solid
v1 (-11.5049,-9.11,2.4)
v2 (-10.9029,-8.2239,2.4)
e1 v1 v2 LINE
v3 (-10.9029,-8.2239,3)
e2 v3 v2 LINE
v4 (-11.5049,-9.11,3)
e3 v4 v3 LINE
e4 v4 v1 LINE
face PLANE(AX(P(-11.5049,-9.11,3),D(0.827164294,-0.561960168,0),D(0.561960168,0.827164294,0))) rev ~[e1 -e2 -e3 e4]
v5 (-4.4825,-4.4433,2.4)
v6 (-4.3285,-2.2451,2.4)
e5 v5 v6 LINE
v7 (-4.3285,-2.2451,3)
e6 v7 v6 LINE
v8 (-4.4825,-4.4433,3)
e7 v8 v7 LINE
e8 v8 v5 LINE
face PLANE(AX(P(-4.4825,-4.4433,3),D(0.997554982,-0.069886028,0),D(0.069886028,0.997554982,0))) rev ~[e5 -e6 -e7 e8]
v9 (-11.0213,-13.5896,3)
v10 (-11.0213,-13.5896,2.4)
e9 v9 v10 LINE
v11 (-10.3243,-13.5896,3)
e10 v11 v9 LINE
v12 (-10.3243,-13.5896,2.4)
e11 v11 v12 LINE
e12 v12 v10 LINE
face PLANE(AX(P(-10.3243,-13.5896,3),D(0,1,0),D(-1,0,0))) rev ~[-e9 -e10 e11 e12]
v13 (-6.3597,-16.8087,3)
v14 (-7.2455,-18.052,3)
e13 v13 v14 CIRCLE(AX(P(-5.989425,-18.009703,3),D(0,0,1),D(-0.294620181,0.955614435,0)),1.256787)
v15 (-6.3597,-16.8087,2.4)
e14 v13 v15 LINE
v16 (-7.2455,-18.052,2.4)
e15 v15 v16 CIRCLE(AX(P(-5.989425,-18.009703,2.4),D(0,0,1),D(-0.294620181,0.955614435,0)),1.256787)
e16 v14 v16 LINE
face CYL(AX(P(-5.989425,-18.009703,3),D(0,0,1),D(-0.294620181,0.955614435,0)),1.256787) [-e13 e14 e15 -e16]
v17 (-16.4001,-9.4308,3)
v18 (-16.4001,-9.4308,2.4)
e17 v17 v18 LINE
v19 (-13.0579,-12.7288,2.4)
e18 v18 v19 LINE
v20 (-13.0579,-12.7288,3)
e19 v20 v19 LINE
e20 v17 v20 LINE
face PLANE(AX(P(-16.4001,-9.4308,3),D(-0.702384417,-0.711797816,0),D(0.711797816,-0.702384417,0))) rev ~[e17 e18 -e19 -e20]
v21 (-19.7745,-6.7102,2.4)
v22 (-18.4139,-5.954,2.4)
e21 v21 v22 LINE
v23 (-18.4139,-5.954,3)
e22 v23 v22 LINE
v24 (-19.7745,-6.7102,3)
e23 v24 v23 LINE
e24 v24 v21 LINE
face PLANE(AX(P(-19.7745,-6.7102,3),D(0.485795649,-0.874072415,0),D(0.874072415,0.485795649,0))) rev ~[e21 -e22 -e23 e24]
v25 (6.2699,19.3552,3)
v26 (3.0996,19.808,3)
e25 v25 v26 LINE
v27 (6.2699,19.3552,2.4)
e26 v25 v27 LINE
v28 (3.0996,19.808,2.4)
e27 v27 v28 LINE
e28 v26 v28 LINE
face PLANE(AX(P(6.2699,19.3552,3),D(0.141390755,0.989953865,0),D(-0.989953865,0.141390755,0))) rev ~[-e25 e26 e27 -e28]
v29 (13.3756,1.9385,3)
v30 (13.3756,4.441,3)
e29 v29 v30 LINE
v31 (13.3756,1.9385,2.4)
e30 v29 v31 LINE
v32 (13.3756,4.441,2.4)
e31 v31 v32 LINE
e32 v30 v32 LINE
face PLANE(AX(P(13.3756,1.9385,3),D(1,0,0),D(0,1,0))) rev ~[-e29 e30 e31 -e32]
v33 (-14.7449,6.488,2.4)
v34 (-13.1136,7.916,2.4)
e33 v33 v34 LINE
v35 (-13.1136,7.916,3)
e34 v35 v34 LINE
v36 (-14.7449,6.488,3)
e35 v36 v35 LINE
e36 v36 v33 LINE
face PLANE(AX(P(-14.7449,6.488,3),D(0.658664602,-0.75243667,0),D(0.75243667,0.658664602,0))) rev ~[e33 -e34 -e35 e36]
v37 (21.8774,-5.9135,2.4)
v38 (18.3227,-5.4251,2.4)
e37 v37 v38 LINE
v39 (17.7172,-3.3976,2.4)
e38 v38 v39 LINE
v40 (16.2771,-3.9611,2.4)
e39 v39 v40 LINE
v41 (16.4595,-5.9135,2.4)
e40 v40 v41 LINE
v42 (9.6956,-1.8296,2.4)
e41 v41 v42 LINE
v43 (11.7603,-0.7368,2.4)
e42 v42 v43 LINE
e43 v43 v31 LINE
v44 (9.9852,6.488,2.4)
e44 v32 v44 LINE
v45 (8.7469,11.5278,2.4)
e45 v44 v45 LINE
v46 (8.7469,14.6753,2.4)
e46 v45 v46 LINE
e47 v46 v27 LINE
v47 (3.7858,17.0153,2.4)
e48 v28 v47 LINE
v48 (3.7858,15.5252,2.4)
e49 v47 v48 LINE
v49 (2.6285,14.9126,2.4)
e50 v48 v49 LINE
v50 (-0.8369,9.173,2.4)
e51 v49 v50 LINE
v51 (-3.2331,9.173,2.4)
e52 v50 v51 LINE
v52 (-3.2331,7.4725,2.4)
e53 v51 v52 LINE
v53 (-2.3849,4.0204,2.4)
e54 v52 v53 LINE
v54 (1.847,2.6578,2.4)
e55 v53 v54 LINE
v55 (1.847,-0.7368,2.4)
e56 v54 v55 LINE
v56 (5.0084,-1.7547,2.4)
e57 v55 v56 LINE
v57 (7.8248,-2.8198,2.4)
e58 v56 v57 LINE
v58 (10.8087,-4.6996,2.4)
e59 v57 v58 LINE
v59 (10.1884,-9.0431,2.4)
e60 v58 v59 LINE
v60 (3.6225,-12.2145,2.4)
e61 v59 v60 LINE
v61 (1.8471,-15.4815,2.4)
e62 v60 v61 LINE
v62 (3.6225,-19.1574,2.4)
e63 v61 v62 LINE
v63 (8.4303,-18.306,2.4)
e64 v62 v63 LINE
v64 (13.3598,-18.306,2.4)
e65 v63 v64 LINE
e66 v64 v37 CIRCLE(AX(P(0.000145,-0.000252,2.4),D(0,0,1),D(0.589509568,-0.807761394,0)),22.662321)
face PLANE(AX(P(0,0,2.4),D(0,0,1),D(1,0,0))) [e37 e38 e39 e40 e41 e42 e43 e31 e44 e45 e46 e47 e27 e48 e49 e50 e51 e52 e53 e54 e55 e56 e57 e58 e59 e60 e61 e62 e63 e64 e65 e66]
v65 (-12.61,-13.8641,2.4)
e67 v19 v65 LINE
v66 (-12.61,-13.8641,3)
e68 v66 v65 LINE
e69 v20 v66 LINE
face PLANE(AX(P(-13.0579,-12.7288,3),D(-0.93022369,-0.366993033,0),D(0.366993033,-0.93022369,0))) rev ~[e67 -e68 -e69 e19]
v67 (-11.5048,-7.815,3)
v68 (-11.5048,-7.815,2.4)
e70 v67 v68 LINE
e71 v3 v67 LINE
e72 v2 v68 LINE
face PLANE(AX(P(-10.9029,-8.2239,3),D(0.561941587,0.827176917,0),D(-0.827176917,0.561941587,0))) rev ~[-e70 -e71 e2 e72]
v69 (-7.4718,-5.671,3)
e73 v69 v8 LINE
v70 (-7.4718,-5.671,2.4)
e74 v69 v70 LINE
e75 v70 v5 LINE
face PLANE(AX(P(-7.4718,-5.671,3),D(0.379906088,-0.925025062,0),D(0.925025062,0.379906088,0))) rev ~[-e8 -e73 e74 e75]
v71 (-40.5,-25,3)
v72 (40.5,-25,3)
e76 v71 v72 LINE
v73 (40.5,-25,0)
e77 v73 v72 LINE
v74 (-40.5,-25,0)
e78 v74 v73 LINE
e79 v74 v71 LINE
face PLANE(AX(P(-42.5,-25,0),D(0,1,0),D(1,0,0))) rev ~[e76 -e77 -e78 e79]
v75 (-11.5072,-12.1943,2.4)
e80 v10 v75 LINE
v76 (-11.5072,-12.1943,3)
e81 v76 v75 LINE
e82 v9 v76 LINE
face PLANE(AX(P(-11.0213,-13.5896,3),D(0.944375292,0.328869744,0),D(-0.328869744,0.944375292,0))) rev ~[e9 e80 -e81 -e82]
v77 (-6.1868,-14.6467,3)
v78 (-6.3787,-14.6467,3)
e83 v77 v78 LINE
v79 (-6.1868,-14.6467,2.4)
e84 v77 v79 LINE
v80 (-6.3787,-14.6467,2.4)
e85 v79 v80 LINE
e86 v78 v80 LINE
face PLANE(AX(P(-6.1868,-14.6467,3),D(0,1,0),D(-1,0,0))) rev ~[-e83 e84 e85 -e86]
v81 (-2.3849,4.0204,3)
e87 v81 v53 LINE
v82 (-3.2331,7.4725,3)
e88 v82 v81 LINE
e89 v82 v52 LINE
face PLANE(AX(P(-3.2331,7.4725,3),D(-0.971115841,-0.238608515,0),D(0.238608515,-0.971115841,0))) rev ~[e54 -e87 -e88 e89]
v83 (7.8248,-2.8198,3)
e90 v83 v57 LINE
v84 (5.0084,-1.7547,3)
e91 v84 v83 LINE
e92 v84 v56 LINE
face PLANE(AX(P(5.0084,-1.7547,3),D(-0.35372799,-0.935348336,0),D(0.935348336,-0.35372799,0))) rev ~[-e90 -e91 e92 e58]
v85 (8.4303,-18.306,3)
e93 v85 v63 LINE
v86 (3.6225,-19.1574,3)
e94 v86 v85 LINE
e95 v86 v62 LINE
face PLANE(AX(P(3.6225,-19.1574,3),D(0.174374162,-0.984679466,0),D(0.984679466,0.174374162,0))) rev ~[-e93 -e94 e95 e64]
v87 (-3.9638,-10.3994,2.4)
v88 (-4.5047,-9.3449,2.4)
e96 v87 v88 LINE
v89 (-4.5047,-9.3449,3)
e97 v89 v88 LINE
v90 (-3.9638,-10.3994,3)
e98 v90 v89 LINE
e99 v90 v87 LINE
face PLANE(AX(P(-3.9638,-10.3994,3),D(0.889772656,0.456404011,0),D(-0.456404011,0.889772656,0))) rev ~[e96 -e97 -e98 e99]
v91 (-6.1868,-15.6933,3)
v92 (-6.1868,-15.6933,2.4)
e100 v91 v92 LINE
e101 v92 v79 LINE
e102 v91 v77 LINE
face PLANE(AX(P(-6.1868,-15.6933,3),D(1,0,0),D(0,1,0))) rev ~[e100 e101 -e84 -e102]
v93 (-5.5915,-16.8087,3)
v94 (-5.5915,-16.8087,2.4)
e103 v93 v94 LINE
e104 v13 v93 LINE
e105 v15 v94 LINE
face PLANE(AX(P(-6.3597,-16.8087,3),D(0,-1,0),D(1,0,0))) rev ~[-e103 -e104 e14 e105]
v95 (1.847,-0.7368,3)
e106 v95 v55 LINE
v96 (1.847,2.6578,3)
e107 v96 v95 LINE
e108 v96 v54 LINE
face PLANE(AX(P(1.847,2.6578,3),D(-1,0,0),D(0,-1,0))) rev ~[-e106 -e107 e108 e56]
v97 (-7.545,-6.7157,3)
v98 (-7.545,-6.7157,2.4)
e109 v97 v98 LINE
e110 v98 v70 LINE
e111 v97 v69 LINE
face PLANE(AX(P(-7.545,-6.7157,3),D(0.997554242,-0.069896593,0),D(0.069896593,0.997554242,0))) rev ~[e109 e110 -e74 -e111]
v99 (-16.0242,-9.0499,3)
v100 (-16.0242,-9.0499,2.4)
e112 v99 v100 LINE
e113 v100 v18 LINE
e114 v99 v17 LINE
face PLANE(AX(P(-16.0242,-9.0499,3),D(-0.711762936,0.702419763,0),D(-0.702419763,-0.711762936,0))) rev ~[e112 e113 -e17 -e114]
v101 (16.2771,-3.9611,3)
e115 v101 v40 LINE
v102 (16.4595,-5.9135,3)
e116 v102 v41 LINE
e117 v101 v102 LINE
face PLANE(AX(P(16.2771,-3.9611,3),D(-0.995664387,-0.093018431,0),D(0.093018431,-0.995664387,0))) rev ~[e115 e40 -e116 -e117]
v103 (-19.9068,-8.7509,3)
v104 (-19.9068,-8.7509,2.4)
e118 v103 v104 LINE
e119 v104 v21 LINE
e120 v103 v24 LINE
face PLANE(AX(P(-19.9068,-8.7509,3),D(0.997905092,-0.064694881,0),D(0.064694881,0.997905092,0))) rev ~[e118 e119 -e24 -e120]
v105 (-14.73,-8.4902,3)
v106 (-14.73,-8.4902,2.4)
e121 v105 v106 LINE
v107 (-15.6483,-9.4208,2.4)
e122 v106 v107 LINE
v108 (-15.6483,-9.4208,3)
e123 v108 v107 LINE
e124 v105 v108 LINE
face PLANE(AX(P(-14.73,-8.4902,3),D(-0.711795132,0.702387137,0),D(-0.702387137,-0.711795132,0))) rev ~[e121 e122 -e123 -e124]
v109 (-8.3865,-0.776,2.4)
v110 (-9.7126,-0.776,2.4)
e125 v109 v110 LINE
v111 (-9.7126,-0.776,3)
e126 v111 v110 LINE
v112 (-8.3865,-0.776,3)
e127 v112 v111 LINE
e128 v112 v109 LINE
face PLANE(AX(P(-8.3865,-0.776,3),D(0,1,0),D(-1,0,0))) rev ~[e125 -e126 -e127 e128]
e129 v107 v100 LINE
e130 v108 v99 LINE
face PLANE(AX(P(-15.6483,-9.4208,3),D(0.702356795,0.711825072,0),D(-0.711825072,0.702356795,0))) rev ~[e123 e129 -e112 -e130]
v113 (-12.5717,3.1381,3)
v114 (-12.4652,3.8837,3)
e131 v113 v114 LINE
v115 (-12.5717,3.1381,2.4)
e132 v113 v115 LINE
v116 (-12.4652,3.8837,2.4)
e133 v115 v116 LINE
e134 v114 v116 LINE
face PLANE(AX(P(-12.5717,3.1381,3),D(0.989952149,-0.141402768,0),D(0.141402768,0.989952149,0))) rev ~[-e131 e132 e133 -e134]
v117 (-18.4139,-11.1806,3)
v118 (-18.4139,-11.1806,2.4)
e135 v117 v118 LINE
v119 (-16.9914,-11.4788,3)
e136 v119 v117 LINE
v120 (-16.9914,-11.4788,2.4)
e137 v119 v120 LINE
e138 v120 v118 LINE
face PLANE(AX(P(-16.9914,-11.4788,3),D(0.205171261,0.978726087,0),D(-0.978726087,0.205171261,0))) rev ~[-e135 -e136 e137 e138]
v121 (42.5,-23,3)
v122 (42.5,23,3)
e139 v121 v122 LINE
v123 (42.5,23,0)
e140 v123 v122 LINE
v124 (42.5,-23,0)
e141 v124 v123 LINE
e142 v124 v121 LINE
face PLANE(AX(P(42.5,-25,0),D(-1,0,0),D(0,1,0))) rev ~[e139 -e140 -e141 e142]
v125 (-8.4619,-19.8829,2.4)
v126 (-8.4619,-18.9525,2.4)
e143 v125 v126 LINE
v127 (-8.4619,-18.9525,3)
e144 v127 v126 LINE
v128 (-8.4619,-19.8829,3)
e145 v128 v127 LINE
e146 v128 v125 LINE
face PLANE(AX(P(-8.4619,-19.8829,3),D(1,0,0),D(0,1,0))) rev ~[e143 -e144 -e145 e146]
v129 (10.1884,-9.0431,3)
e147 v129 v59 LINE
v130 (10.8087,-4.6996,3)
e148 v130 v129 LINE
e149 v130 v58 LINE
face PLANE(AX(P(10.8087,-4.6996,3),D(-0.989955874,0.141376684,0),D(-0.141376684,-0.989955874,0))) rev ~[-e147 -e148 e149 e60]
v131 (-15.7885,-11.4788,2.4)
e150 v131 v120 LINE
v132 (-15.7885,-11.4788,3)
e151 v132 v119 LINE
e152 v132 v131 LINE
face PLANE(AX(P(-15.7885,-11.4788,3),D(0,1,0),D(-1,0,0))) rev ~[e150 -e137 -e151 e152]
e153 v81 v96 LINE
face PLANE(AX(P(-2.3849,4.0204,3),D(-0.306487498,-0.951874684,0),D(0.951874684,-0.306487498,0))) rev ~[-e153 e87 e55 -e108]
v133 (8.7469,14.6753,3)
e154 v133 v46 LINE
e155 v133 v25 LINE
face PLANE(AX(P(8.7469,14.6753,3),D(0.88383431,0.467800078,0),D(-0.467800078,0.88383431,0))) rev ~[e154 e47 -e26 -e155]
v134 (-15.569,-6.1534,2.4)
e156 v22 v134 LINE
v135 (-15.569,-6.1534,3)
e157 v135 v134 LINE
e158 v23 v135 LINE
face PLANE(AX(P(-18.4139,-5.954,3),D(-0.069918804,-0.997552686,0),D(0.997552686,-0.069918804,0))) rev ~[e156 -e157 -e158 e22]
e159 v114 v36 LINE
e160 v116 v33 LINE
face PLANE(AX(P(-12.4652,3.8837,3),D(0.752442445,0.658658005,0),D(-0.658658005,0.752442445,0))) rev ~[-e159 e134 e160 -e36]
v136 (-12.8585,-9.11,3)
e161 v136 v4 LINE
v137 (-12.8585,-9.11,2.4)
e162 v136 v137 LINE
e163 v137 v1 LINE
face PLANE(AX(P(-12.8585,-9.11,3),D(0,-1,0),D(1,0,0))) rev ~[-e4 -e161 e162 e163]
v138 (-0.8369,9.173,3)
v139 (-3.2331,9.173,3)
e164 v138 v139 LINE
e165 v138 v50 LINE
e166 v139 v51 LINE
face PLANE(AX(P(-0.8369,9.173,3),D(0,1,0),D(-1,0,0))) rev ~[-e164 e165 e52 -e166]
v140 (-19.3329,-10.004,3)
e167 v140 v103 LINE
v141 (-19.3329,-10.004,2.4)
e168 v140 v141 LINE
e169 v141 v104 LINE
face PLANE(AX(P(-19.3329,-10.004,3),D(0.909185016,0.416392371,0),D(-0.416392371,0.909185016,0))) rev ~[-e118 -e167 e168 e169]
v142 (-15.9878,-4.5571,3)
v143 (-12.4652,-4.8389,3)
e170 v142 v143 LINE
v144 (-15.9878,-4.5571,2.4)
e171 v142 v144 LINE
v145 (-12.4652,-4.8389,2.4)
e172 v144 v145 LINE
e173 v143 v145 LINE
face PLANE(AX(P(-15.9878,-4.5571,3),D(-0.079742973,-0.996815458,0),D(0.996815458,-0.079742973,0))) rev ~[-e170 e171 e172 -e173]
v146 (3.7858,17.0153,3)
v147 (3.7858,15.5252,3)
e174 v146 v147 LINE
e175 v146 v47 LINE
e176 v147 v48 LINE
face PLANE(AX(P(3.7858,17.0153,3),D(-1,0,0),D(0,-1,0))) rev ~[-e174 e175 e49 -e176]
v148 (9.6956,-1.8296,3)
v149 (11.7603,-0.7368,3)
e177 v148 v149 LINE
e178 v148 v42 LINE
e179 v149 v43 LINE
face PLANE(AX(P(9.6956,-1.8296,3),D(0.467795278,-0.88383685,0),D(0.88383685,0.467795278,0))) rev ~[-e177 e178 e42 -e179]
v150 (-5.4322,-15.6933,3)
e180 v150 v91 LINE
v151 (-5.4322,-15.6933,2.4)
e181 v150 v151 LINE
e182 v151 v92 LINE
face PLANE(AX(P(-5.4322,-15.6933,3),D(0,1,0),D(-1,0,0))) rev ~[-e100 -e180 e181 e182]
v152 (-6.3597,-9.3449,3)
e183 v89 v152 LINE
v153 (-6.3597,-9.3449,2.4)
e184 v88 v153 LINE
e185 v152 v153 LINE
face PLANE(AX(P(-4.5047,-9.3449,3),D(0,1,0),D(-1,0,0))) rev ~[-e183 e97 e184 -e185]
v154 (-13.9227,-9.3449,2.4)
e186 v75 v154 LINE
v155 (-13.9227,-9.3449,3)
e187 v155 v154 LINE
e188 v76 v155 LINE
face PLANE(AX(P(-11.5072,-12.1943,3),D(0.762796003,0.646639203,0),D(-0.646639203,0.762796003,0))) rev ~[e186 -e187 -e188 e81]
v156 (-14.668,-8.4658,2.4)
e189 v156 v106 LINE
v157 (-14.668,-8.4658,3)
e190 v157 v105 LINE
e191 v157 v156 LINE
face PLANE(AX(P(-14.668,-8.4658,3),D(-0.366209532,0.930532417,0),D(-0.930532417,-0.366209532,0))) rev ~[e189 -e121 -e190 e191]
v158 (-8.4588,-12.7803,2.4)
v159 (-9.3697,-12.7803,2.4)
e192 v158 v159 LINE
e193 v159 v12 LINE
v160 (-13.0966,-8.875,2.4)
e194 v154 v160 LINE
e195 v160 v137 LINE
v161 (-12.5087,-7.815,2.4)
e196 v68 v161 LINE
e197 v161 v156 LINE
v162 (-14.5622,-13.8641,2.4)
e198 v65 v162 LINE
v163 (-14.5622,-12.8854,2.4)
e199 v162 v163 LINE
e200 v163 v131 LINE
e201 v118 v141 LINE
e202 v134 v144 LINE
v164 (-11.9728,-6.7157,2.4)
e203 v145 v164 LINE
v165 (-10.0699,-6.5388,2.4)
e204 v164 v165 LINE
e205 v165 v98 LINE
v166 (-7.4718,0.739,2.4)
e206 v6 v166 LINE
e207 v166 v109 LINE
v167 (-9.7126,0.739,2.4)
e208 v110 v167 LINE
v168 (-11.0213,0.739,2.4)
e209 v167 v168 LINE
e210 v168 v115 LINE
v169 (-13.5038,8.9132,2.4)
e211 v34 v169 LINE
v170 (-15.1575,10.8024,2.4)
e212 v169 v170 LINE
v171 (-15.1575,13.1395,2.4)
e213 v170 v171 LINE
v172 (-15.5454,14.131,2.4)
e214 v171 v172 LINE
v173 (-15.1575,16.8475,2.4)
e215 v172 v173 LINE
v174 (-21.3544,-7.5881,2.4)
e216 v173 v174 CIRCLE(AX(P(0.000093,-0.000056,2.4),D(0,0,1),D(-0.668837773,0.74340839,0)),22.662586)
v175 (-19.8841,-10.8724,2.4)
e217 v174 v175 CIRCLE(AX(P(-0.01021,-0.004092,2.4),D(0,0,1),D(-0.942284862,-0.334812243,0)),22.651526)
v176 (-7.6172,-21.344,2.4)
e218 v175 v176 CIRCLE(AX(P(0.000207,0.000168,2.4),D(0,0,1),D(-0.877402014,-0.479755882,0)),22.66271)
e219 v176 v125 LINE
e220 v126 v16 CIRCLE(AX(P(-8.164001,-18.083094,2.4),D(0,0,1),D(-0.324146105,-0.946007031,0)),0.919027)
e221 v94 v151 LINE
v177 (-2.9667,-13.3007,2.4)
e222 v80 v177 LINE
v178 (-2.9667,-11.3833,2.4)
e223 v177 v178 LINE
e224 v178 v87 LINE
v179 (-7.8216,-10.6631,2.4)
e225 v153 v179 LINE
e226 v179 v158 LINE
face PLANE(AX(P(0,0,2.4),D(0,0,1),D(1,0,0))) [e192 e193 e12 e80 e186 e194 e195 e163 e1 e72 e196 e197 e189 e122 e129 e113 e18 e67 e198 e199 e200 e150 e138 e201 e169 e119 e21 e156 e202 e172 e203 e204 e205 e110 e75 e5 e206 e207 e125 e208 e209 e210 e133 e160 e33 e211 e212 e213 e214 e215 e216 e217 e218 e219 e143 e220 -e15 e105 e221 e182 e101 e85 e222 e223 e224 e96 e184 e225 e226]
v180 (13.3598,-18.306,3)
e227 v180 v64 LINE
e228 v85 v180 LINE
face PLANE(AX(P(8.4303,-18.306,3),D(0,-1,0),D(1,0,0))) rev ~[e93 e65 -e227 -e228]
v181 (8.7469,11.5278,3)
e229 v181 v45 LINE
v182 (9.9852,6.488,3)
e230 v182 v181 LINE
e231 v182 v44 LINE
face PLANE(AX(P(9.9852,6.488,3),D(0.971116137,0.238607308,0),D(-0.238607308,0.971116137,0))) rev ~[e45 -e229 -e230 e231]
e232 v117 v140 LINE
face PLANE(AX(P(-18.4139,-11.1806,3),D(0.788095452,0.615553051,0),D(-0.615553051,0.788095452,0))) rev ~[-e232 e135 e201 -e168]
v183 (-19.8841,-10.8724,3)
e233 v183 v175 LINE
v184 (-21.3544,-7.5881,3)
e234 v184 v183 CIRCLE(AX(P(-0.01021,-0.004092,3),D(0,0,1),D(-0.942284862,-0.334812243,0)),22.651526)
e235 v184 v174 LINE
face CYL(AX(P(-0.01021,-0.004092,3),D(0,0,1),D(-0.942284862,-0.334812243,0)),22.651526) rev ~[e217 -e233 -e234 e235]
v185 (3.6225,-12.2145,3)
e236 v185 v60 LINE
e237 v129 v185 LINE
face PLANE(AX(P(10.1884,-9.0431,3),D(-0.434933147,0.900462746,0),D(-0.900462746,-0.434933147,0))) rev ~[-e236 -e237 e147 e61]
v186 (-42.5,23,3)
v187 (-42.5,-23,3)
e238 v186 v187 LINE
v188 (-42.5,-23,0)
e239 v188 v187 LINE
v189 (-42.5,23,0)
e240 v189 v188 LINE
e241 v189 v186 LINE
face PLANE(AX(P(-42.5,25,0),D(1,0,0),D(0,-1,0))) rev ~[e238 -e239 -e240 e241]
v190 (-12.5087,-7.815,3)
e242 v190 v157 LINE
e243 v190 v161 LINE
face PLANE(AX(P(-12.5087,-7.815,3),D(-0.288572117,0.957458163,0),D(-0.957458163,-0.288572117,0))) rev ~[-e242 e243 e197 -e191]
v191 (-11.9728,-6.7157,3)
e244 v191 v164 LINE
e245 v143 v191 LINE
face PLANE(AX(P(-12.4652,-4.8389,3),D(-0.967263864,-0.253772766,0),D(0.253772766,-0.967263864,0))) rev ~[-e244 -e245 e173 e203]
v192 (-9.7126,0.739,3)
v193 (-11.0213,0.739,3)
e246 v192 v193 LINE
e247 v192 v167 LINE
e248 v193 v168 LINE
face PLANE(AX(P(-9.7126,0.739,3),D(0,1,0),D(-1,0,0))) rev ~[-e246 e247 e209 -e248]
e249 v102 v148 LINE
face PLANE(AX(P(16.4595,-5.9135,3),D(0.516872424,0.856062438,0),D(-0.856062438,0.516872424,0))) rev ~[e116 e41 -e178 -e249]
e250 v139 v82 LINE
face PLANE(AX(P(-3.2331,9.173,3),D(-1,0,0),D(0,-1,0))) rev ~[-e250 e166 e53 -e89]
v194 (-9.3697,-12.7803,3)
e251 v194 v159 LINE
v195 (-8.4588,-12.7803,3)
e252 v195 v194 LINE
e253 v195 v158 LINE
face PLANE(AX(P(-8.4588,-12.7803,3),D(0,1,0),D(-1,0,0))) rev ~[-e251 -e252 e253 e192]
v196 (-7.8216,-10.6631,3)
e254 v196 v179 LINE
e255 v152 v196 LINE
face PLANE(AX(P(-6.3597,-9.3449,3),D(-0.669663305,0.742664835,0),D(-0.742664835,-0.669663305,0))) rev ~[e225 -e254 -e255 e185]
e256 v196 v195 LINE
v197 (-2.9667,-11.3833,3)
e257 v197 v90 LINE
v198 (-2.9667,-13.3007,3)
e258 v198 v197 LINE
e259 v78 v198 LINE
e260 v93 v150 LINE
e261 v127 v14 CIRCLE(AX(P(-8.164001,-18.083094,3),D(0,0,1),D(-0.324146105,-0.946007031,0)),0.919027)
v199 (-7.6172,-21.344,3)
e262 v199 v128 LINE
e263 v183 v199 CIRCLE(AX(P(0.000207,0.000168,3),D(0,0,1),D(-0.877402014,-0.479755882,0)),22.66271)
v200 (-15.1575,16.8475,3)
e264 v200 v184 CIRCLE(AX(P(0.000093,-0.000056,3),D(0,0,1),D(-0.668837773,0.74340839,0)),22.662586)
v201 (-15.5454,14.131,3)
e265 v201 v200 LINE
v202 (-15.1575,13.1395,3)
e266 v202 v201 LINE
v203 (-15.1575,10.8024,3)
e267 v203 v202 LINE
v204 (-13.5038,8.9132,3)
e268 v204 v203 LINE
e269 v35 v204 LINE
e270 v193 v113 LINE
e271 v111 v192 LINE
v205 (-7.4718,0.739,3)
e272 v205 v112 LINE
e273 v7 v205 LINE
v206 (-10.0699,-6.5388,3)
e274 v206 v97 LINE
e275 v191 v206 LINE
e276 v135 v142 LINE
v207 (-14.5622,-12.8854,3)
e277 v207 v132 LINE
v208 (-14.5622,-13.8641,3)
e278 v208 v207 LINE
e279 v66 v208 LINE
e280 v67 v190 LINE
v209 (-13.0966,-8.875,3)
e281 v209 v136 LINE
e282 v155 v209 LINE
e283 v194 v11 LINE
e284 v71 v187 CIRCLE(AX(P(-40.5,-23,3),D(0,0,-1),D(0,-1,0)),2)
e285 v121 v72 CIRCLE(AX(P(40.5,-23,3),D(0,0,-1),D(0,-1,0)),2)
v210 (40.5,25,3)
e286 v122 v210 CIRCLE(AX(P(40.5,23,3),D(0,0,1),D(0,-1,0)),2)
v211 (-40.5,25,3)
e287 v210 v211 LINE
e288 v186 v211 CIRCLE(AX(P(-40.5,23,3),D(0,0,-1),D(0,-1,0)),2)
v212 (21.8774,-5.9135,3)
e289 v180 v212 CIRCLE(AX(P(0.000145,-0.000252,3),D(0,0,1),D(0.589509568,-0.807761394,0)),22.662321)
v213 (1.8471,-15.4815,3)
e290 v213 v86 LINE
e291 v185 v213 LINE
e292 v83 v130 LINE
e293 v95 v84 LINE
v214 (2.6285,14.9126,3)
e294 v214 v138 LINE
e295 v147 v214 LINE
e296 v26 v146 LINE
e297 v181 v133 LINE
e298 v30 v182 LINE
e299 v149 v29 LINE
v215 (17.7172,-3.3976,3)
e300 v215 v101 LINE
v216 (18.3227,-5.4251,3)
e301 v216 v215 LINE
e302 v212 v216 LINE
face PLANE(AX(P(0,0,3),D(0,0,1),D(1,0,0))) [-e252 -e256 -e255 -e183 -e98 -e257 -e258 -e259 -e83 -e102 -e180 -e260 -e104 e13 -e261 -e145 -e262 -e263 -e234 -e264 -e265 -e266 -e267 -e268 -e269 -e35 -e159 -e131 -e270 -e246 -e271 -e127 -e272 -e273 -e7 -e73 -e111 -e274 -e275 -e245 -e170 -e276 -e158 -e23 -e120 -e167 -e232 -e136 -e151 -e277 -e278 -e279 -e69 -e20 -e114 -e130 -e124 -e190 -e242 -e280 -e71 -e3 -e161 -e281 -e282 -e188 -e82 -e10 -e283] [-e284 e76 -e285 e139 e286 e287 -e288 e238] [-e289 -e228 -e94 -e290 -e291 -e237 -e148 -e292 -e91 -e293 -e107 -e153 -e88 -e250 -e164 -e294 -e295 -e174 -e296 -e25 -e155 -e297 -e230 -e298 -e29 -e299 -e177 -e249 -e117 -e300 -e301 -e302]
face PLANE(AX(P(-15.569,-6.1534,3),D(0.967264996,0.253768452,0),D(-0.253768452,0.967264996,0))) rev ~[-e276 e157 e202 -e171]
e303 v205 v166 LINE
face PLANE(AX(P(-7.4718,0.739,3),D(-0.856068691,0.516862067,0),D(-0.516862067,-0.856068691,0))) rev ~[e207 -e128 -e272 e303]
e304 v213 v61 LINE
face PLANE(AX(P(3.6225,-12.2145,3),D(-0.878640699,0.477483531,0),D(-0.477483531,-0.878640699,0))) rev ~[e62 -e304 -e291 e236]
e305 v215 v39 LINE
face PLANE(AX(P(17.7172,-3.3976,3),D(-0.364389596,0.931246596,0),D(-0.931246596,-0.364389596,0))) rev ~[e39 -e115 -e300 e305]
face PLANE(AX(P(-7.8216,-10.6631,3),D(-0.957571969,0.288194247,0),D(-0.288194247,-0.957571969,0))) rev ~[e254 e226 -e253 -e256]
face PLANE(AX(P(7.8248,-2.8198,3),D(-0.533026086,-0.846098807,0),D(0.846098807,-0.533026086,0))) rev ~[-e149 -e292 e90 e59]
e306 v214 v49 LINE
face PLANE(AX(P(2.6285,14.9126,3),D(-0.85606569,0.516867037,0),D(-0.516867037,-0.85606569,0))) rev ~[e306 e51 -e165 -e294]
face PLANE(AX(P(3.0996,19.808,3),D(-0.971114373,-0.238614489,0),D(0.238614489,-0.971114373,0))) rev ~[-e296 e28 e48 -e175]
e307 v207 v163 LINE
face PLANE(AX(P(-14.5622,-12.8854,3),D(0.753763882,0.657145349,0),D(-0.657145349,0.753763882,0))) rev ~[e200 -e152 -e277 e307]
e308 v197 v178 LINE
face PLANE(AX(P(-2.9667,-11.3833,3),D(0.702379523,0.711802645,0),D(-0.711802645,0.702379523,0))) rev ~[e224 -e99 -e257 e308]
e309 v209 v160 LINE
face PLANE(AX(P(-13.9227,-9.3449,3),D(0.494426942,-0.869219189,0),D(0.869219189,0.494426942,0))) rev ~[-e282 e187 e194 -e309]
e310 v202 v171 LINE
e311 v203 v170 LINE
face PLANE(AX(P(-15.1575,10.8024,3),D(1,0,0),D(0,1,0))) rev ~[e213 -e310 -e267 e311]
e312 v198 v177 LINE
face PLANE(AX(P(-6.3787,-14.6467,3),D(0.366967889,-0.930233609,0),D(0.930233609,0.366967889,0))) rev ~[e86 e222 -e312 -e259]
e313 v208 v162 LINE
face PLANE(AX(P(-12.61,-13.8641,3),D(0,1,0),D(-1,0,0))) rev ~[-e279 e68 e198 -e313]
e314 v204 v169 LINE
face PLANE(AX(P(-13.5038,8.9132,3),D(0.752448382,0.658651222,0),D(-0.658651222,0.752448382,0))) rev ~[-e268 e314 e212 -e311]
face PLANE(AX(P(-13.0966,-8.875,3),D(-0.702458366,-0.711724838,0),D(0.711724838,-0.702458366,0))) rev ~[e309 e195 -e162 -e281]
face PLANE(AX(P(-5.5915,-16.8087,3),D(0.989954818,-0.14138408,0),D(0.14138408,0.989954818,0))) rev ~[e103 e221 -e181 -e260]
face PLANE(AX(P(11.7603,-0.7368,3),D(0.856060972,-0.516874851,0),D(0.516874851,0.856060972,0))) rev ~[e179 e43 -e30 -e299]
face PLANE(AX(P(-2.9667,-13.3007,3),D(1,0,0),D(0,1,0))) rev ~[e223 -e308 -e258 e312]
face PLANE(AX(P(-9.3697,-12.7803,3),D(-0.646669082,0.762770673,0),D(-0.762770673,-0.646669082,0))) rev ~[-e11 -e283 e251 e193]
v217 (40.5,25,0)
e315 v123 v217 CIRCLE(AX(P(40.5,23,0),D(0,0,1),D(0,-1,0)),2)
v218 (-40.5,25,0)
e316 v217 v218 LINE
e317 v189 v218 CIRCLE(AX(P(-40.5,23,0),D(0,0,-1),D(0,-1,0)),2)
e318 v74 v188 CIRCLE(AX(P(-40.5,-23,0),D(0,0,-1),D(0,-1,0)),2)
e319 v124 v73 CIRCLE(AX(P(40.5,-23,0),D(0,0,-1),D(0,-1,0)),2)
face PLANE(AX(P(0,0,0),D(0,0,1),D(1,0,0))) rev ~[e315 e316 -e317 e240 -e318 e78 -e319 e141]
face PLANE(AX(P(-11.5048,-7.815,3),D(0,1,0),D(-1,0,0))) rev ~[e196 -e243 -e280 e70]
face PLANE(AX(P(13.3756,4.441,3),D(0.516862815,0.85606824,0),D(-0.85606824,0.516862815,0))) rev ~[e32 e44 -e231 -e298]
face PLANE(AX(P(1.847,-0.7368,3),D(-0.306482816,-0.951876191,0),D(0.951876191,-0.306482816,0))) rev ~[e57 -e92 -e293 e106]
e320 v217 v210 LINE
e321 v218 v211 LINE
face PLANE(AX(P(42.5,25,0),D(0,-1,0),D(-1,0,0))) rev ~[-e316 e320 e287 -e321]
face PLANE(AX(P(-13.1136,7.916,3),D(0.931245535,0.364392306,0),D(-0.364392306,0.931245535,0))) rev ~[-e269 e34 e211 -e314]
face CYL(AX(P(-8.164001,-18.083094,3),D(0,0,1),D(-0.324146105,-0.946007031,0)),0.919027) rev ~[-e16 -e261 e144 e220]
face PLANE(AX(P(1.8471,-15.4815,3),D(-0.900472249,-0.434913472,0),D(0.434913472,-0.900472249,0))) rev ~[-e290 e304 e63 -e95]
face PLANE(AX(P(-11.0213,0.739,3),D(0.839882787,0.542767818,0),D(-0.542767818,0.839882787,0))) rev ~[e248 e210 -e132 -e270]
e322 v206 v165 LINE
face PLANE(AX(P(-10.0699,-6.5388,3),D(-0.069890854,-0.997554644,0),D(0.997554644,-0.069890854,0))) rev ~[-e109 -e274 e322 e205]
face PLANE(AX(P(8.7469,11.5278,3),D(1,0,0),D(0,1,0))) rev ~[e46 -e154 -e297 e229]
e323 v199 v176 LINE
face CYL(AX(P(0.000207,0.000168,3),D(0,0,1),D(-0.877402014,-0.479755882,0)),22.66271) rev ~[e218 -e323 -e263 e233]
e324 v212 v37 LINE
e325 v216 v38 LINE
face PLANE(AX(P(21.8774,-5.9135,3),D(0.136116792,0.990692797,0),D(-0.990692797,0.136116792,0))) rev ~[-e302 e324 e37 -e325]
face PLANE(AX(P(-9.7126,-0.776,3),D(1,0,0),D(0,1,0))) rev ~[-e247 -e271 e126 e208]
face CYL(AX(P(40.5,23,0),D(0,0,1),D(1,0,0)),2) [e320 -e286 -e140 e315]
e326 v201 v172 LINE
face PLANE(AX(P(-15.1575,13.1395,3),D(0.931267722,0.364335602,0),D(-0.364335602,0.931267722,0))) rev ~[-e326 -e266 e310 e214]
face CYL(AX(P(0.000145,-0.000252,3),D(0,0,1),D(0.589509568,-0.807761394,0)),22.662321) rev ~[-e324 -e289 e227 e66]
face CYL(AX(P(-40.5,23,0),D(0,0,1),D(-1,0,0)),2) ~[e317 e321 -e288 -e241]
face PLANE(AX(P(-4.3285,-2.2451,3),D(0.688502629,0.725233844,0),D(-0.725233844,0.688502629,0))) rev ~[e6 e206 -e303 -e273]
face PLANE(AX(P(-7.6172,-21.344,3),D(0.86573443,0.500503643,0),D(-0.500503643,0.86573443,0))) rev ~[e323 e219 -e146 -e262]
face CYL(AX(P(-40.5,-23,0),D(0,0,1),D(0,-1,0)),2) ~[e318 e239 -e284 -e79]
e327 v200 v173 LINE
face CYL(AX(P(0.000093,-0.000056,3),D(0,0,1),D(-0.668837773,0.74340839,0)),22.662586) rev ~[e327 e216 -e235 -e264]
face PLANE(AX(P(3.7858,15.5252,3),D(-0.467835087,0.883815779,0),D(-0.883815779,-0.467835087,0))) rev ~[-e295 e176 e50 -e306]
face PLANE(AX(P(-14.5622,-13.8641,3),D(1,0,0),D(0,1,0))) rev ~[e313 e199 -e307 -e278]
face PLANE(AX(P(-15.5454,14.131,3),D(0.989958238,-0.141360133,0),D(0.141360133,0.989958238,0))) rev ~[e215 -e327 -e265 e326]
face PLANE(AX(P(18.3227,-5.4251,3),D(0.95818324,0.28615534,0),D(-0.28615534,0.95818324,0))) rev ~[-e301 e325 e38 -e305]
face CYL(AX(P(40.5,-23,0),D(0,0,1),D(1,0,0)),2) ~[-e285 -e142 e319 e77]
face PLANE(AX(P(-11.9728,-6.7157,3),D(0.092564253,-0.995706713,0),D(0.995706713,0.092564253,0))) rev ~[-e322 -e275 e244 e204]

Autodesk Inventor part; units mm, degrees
ref_plane "YZ Plane" through (0, 0, 0) normal (1, 0, 0) x (0, 1, 0)
ref_plane "XZ Plane" through (0, 0, 0) normal (0, 1, 0) x (-1, 0, 0)
ref_plane "XY Plane" through (0, 0, 0) normal (0, 0, 1) x (1, 0, 0)
sketch "Sketch1" plane through (0, 0, 0) normal (0, 0, 1) x (1, 0, 0)
  line L0 (42.5, 25) -> (-42.5, 25)
  line L1 (-42.5, 25) -> (-42.5, -25)
  line L2 (-42.5, -25) -> (42.5, -25)
  line L3 (42.5, -25) -> (42.5, 25)
  line L4 (42.5, 25) -> (-42.5, -25) construction
  line L5 (-42.5, 25) -> (42.5, -25) construction
  point P0 (0, 0)
  dimension "d5" = 85
  dimension "d6" = 50
extrude "Extrusion1" add sketch "Sketch1" along normal blind 3
fillet "Fillet1" radius 2 4 edges at (-42.5, 25, 1.5) (-42.5, -25, 1.5) (42.5, 25, 1.5) (42.5, -25, 1.5)
sketch "Sketch3" plane through (0, 0, 3) normal (0, 0, 1) x (1, 0, 0)
  line L0 (10.1884, -9.0431) -> (3.6225, -12.2145) projected
  line L1 (3.6225, -12.2145) -> (1.8471, -15.4815) projected
  line L2 (1.8471, -15.4815) -> (3.6225, -19.1574) projected
  line L3 (3.6225, -19.1574) -> (8.4303, -18.306) projected
  line L4 (8.4303, -18.306) -> (13.3598, -18.306) projected
  arc A0 (13.3598, -18.306) -> (21.8774, -5.9135) centre (0.0004, -0.0005) ccw projected
  line L5 (21.8774, -5.9135) -> (18.3227, -5.4251) projected
  line L6 (18.3227, -5.4251) -> (17.7172, -3.3976) projected
  line L7 (17.7172, -3.3976) -> (16.2771, -3.9611) projected
  line L8 (16.2771, -3.9611) -> (16.4595, -5.9135) projected
  line L9 (16.4595, -5.9135) -> (9.6956, -1.8296) projected
  line L10 (9.6956, -1.8296) -> (11.7603, -0.7368) projected
  line L11 (11.7603, -0.7368) -> (13.3756, 1.9385) projected
  line L12 (13.3756, 1.9385) -> (13.3756, 4.441) projected
  line L13 (13.3756, 4.441) -> (9.9852, 6.488) projected
  line L14 (9.9852, 6.488) -> (8.7469, 11.5278) projected
  line L15 (10.8087, -4.6996) -> (10.1884, -9.0431) projected
  line L16 (7.8248, -2.8198) -> (10.8087, -4.6996) projected
  line L17 (5.0084, -1.7547) -> (7.8248, -2.8198) projected
  line L18 (1.847, -0.7368) -> (5.0084, -1.7547) projected
  line L19 (1.847, 2.6578) -> (1.847, -0.7368) projected
  line L20 (-2.3849, 4.0204) -> (1.847, 2.6578) projected
  line L21 (-3.2331, 7.4725) -> (-2.3849, 4.0204) projected
  line L22 (-3.2331, 9.173) -> (-3.2331, 7.4725) projected
  line L23 (-0.8369, 9.173) -> (-3.2331, 9.173) projected
  line L24 (2.6285, 14.9126) -> (-0.8369, 9.173) projected
  line L25 (3.7858, 15.5252) -> (2.6285, 14.9126) projected
  line L26 (3.7858, 17.0153) -> (3.7858, 15.5252) projected
  line L27 (3.0996, 19.808) -> (3.7858, 17.0153) projected
  line L28 (6.2699, 19.3552) -> (3.0996, 19.808) projected
  line L29 (8.7469, 14.6753) -> (6.2699, 19.3552) projected
  line L30 (8.7469, 11.5278) -> (8.7469, 14.6753) projected
  line L31 (-15.5454, 14.131) -> (-15.1575, 16.8475) projected
  arc A1 (-15.1575, 16.8475) -> (-21.3544, -7.5881) centre (0, 0) ccw projected
  line L32 (-15.1575, 13.1395) -> (-15.5454, 14.131) projected
  line L33 (-15.1575, 10.8024) -> (-15.1575, 13.1395) projected
  line L34 (-13.5038, 8.9132) -> (-15.1575, 10.8024) projected
  line L35 (-13.1136, 7.916) -> (-13.5038, 8.9132) projected
  line L36 (-14.7449, 6.488) -> (-13.1136, 7.916) projected
  line L37 (-12.4652, 3.8837) -> (-14.7449, 6.488) projected
  line L38 (-12.5717, 3.1381) -> (-12.4652, 3.8837) projected
  line L39 (-11.0213, 0.739) -> (-12.5717, 3.1381) projected
  line L40 (-9.7126, 0.739) -> (-11.0213, 0.739) projected
  line L41 (-9.7126, -0.776) -> (-9.7126, 0.739) projected
  line L42 (-8.3865, -0.776) -> (-9.7126, -0.776) projected
  line L43 (-7.4718, 0.739) -> (-8.3865, -0.776) projected
  line L44 (-4.3285, -2.2451) -> (-7.4718, 0.739) projected
  line L45 (-4.4825, -4.4433) -> (-4.3285, -2.2451) projected
  line L46 (-7.4718, -5.671) -> (-4.4825, -4.4433) projected
  line L47 (-7.545, -6.7157) -> (-7.4718, -5.671) projected
  line L48 (-10.0699, -6.5388) -> (-7.545, -6.7157) projected
  line L49 (-11.9728, -6.7157) -> (-10.0699, -6.5388) projected
  line L50 (-12.4652, -4.8389) -> (-11.9728, -6.7157) projected
  line L51 (-15.9878, -4.5571) -> (-12.4652, -4.8389) projected
  line L52 (-15.569, -6.1534) -> (-15.9878, -4.5571) projected
  line L53 (-18.4139, -5.954) -> (-15.569, -6.1534) projected
  line L54 (-19.7745, -6.7102) -> (-18.4139, -5.954) projected
  line L55 (-19.9068, -8.7509) -> (-19.7745, -6.7102) projected
  arc A2 (-21.3544, -7.5881) -> (-19.8841, -10.8724) centre (0, 0) ccw projected
  arc A3 (-19.8841, -10.8724) -> (-7.6172, -21.344) centre (0, 0) ccw projected
  line L56 (-19.3329, -10.004) -> (-19.9068, -8.7509) projected
  line L57 (-18.4139, -11.1806) -> (-19.3329, -10.004) projected
  line L58 (-16.9914, -11.4788) -> (-18.4139, -11.1806) projected
  line L59 (-15.7885, -11.4788) -> (-16.9914, -11.4788) projected
  line L60 (-14.5622, -12.8854) -> (-15.7885, -11.4788) projected
  line L61 (-16.4001, -9.4308) -> (-13.0579, -12.7288) projected
  line L62 (-16.0242, -9.0499) -> (-16.4001, -9.4308) projected
  line L63 (-15.6483, -9.4208) -> (-16.0242, -9.0499) projected
  line L64 (-14.73, -8.4902) -> (-15.6483, -9.4208) projected
  line L65 (-12.5087, -7.815) -> (-14.668, -8.4658) projected
  line L66 (-11.5048, -7.815) -> (-12.5087, -7.815) projected
  line L67 (-10.9029, -8.2239) -> (-11.5048, -7.815) projected
  line L68 (-11.5049, -9.11) -> (-10.9029, -8.2239) projected
  line L69 (-12.8585, -9.11) -> (-11.5049, -9.11) projected
  line L70 (-14.668, -8.4658) -> (-14.73, -8.4902) projected
  line L71 (-13.9227, -9.3449) -> (-13.0966, -8.875) projected
  line L72 (-13.0966, -8.875) -> (-12.8585, -9.11) projected
  line L73 (-11.5072, -12.1943) -> (-13.9227, -9.3449) projected
  line L74 (-14.5622, -13.8641) -> (-14.5622, -12.8854) projected
  line L75 (-12.61, -13.8641) -> (-14.5622, -13.8641) projected
  line L76 (-13.0579, -12.7288) -> (-12.61, -13.8641) projected
  line L77 (-11.0213, -13.5896) -> (-11.5072, -12.1943) projected
  line L78 (-10.3243, -13.5896) -> (-11.0213, -13.5896) projected
  line L79 (-9.3697, -12.7803) -> (-10.3243, -13.5896) projected
  line L80 (-8.4588, -12.7803) -> (-9.3697, -12.7803) projected
  line L81 (-7.8216, -10.6631) -> (-8.4588, -12.7803) projected
  line L82 (-6.3597, -9.3449) -> (-7.8216, -10.6631) projected
  line L83 (-4.5047, -9.3449) -> (-6.3597, -9.3449) projected
  line L84 (-3.9638, -10.3994) -> (-4.5047, -9.3449) projected
  line L85 (-2.9667, -11.3833) -> (-3.9638, -10.3994) projected
  line L86 (-2.9667, -13.3007) -> (-2.9667, -11.3833) projected
  line L87 (-6.3787, -14.6467) -> (-2.9667, -13.3007) projected
  line L88 (-6.1868, -14.6467) -> (-6.3787, -14.6467) projected
  line L89 (-6.1868, -15.6933) -> (-6.1868, -14.6467) projected
  line L90 (-5.4322, -15.6933) -> (-6.1868, -15.6933) projected
  line L91 (-5.5915, -16.8087) -> (-5.4322, -15.6933) projected
  line L92 (-6.3597, -16.8087) -> (-5.5915, -16.8087) projected
  arc A4 (-6.3597, -16.8087) -> (-7.2455, -18.052) centre (-5.9895, -18.0096) ccw projected
  arc A5 (-8.4619, -18.9525) -> (-7.2455, -18.052) centre (-8.164, -18.0831) ccw projected
  line L93 (-8.4619, -19.8829) -> (-8.4619, -18.9525) projected
  line L94 (-7.6172, -21.344) -> (-8.4619, -19.8829) projected
  line L95 (-6.2198, -19.1959) -> (-6.2198, -19.828) projected
  line L96 (-5.6245, -18.1685) -> (-6.2198, -19.1959) projected
  line L97 (-4.6572, -17.6144) -> (-5.6245, -18.1685) projected
  line L98 (-4.0769, -17.6144) -> (-4.6572, -17.6144) projected
  line L99 (-3.4652, -17.9689) -> (-4.0769, -17.6144) projected
  line L100 (-3.4652, -18.6822) -> (-3.4652, -17.9689) projected
  line L101 (-4.3582, -18.6822) -> (-3.4652, -18.6822) projected
  line L102 (-5.0222, -19.828) -> (-4.3582, -18.6822) projected
  line L103 (-5.6245, -20.173) -> (-5.0222, -19.828) projected
  line L104 (-6.2198, -19.828) -> (-5.6245, -20.173) projected
  point P0 (0, 0)
extrude "Extrusion2" cut sketch "Sketch3" against normal blind 0.6 contours L15 L16 L17 L18 L19 L20 L21 L22 L23 L24 L25 L26 L27 L28 L29 L30 L14 L13 L12 L11 L10 L9 L8 L7 L6 L5 A0 L4 L3 L2 L1 L0 | L32 L33 L34 L35 L36 L37 L38 L39 L40 L41 L42 L43 L44 L45 L46 L47 L48 L49 L50 L51 L52 L53 L54 L55 L56 L57 L58 L59 L60 L74 L75 L76 L61 L62 L63 L64 L70 L65 L66 L67 L68 L69 L72 L71 L73 L77 L78 L79 L80 L81 L82 L83 L84 L85 L86 L87 L88 L89 L90 L91 L92 A4 A5 L93 L94 A3 A2 A1 L31
properties part number "kaart"
